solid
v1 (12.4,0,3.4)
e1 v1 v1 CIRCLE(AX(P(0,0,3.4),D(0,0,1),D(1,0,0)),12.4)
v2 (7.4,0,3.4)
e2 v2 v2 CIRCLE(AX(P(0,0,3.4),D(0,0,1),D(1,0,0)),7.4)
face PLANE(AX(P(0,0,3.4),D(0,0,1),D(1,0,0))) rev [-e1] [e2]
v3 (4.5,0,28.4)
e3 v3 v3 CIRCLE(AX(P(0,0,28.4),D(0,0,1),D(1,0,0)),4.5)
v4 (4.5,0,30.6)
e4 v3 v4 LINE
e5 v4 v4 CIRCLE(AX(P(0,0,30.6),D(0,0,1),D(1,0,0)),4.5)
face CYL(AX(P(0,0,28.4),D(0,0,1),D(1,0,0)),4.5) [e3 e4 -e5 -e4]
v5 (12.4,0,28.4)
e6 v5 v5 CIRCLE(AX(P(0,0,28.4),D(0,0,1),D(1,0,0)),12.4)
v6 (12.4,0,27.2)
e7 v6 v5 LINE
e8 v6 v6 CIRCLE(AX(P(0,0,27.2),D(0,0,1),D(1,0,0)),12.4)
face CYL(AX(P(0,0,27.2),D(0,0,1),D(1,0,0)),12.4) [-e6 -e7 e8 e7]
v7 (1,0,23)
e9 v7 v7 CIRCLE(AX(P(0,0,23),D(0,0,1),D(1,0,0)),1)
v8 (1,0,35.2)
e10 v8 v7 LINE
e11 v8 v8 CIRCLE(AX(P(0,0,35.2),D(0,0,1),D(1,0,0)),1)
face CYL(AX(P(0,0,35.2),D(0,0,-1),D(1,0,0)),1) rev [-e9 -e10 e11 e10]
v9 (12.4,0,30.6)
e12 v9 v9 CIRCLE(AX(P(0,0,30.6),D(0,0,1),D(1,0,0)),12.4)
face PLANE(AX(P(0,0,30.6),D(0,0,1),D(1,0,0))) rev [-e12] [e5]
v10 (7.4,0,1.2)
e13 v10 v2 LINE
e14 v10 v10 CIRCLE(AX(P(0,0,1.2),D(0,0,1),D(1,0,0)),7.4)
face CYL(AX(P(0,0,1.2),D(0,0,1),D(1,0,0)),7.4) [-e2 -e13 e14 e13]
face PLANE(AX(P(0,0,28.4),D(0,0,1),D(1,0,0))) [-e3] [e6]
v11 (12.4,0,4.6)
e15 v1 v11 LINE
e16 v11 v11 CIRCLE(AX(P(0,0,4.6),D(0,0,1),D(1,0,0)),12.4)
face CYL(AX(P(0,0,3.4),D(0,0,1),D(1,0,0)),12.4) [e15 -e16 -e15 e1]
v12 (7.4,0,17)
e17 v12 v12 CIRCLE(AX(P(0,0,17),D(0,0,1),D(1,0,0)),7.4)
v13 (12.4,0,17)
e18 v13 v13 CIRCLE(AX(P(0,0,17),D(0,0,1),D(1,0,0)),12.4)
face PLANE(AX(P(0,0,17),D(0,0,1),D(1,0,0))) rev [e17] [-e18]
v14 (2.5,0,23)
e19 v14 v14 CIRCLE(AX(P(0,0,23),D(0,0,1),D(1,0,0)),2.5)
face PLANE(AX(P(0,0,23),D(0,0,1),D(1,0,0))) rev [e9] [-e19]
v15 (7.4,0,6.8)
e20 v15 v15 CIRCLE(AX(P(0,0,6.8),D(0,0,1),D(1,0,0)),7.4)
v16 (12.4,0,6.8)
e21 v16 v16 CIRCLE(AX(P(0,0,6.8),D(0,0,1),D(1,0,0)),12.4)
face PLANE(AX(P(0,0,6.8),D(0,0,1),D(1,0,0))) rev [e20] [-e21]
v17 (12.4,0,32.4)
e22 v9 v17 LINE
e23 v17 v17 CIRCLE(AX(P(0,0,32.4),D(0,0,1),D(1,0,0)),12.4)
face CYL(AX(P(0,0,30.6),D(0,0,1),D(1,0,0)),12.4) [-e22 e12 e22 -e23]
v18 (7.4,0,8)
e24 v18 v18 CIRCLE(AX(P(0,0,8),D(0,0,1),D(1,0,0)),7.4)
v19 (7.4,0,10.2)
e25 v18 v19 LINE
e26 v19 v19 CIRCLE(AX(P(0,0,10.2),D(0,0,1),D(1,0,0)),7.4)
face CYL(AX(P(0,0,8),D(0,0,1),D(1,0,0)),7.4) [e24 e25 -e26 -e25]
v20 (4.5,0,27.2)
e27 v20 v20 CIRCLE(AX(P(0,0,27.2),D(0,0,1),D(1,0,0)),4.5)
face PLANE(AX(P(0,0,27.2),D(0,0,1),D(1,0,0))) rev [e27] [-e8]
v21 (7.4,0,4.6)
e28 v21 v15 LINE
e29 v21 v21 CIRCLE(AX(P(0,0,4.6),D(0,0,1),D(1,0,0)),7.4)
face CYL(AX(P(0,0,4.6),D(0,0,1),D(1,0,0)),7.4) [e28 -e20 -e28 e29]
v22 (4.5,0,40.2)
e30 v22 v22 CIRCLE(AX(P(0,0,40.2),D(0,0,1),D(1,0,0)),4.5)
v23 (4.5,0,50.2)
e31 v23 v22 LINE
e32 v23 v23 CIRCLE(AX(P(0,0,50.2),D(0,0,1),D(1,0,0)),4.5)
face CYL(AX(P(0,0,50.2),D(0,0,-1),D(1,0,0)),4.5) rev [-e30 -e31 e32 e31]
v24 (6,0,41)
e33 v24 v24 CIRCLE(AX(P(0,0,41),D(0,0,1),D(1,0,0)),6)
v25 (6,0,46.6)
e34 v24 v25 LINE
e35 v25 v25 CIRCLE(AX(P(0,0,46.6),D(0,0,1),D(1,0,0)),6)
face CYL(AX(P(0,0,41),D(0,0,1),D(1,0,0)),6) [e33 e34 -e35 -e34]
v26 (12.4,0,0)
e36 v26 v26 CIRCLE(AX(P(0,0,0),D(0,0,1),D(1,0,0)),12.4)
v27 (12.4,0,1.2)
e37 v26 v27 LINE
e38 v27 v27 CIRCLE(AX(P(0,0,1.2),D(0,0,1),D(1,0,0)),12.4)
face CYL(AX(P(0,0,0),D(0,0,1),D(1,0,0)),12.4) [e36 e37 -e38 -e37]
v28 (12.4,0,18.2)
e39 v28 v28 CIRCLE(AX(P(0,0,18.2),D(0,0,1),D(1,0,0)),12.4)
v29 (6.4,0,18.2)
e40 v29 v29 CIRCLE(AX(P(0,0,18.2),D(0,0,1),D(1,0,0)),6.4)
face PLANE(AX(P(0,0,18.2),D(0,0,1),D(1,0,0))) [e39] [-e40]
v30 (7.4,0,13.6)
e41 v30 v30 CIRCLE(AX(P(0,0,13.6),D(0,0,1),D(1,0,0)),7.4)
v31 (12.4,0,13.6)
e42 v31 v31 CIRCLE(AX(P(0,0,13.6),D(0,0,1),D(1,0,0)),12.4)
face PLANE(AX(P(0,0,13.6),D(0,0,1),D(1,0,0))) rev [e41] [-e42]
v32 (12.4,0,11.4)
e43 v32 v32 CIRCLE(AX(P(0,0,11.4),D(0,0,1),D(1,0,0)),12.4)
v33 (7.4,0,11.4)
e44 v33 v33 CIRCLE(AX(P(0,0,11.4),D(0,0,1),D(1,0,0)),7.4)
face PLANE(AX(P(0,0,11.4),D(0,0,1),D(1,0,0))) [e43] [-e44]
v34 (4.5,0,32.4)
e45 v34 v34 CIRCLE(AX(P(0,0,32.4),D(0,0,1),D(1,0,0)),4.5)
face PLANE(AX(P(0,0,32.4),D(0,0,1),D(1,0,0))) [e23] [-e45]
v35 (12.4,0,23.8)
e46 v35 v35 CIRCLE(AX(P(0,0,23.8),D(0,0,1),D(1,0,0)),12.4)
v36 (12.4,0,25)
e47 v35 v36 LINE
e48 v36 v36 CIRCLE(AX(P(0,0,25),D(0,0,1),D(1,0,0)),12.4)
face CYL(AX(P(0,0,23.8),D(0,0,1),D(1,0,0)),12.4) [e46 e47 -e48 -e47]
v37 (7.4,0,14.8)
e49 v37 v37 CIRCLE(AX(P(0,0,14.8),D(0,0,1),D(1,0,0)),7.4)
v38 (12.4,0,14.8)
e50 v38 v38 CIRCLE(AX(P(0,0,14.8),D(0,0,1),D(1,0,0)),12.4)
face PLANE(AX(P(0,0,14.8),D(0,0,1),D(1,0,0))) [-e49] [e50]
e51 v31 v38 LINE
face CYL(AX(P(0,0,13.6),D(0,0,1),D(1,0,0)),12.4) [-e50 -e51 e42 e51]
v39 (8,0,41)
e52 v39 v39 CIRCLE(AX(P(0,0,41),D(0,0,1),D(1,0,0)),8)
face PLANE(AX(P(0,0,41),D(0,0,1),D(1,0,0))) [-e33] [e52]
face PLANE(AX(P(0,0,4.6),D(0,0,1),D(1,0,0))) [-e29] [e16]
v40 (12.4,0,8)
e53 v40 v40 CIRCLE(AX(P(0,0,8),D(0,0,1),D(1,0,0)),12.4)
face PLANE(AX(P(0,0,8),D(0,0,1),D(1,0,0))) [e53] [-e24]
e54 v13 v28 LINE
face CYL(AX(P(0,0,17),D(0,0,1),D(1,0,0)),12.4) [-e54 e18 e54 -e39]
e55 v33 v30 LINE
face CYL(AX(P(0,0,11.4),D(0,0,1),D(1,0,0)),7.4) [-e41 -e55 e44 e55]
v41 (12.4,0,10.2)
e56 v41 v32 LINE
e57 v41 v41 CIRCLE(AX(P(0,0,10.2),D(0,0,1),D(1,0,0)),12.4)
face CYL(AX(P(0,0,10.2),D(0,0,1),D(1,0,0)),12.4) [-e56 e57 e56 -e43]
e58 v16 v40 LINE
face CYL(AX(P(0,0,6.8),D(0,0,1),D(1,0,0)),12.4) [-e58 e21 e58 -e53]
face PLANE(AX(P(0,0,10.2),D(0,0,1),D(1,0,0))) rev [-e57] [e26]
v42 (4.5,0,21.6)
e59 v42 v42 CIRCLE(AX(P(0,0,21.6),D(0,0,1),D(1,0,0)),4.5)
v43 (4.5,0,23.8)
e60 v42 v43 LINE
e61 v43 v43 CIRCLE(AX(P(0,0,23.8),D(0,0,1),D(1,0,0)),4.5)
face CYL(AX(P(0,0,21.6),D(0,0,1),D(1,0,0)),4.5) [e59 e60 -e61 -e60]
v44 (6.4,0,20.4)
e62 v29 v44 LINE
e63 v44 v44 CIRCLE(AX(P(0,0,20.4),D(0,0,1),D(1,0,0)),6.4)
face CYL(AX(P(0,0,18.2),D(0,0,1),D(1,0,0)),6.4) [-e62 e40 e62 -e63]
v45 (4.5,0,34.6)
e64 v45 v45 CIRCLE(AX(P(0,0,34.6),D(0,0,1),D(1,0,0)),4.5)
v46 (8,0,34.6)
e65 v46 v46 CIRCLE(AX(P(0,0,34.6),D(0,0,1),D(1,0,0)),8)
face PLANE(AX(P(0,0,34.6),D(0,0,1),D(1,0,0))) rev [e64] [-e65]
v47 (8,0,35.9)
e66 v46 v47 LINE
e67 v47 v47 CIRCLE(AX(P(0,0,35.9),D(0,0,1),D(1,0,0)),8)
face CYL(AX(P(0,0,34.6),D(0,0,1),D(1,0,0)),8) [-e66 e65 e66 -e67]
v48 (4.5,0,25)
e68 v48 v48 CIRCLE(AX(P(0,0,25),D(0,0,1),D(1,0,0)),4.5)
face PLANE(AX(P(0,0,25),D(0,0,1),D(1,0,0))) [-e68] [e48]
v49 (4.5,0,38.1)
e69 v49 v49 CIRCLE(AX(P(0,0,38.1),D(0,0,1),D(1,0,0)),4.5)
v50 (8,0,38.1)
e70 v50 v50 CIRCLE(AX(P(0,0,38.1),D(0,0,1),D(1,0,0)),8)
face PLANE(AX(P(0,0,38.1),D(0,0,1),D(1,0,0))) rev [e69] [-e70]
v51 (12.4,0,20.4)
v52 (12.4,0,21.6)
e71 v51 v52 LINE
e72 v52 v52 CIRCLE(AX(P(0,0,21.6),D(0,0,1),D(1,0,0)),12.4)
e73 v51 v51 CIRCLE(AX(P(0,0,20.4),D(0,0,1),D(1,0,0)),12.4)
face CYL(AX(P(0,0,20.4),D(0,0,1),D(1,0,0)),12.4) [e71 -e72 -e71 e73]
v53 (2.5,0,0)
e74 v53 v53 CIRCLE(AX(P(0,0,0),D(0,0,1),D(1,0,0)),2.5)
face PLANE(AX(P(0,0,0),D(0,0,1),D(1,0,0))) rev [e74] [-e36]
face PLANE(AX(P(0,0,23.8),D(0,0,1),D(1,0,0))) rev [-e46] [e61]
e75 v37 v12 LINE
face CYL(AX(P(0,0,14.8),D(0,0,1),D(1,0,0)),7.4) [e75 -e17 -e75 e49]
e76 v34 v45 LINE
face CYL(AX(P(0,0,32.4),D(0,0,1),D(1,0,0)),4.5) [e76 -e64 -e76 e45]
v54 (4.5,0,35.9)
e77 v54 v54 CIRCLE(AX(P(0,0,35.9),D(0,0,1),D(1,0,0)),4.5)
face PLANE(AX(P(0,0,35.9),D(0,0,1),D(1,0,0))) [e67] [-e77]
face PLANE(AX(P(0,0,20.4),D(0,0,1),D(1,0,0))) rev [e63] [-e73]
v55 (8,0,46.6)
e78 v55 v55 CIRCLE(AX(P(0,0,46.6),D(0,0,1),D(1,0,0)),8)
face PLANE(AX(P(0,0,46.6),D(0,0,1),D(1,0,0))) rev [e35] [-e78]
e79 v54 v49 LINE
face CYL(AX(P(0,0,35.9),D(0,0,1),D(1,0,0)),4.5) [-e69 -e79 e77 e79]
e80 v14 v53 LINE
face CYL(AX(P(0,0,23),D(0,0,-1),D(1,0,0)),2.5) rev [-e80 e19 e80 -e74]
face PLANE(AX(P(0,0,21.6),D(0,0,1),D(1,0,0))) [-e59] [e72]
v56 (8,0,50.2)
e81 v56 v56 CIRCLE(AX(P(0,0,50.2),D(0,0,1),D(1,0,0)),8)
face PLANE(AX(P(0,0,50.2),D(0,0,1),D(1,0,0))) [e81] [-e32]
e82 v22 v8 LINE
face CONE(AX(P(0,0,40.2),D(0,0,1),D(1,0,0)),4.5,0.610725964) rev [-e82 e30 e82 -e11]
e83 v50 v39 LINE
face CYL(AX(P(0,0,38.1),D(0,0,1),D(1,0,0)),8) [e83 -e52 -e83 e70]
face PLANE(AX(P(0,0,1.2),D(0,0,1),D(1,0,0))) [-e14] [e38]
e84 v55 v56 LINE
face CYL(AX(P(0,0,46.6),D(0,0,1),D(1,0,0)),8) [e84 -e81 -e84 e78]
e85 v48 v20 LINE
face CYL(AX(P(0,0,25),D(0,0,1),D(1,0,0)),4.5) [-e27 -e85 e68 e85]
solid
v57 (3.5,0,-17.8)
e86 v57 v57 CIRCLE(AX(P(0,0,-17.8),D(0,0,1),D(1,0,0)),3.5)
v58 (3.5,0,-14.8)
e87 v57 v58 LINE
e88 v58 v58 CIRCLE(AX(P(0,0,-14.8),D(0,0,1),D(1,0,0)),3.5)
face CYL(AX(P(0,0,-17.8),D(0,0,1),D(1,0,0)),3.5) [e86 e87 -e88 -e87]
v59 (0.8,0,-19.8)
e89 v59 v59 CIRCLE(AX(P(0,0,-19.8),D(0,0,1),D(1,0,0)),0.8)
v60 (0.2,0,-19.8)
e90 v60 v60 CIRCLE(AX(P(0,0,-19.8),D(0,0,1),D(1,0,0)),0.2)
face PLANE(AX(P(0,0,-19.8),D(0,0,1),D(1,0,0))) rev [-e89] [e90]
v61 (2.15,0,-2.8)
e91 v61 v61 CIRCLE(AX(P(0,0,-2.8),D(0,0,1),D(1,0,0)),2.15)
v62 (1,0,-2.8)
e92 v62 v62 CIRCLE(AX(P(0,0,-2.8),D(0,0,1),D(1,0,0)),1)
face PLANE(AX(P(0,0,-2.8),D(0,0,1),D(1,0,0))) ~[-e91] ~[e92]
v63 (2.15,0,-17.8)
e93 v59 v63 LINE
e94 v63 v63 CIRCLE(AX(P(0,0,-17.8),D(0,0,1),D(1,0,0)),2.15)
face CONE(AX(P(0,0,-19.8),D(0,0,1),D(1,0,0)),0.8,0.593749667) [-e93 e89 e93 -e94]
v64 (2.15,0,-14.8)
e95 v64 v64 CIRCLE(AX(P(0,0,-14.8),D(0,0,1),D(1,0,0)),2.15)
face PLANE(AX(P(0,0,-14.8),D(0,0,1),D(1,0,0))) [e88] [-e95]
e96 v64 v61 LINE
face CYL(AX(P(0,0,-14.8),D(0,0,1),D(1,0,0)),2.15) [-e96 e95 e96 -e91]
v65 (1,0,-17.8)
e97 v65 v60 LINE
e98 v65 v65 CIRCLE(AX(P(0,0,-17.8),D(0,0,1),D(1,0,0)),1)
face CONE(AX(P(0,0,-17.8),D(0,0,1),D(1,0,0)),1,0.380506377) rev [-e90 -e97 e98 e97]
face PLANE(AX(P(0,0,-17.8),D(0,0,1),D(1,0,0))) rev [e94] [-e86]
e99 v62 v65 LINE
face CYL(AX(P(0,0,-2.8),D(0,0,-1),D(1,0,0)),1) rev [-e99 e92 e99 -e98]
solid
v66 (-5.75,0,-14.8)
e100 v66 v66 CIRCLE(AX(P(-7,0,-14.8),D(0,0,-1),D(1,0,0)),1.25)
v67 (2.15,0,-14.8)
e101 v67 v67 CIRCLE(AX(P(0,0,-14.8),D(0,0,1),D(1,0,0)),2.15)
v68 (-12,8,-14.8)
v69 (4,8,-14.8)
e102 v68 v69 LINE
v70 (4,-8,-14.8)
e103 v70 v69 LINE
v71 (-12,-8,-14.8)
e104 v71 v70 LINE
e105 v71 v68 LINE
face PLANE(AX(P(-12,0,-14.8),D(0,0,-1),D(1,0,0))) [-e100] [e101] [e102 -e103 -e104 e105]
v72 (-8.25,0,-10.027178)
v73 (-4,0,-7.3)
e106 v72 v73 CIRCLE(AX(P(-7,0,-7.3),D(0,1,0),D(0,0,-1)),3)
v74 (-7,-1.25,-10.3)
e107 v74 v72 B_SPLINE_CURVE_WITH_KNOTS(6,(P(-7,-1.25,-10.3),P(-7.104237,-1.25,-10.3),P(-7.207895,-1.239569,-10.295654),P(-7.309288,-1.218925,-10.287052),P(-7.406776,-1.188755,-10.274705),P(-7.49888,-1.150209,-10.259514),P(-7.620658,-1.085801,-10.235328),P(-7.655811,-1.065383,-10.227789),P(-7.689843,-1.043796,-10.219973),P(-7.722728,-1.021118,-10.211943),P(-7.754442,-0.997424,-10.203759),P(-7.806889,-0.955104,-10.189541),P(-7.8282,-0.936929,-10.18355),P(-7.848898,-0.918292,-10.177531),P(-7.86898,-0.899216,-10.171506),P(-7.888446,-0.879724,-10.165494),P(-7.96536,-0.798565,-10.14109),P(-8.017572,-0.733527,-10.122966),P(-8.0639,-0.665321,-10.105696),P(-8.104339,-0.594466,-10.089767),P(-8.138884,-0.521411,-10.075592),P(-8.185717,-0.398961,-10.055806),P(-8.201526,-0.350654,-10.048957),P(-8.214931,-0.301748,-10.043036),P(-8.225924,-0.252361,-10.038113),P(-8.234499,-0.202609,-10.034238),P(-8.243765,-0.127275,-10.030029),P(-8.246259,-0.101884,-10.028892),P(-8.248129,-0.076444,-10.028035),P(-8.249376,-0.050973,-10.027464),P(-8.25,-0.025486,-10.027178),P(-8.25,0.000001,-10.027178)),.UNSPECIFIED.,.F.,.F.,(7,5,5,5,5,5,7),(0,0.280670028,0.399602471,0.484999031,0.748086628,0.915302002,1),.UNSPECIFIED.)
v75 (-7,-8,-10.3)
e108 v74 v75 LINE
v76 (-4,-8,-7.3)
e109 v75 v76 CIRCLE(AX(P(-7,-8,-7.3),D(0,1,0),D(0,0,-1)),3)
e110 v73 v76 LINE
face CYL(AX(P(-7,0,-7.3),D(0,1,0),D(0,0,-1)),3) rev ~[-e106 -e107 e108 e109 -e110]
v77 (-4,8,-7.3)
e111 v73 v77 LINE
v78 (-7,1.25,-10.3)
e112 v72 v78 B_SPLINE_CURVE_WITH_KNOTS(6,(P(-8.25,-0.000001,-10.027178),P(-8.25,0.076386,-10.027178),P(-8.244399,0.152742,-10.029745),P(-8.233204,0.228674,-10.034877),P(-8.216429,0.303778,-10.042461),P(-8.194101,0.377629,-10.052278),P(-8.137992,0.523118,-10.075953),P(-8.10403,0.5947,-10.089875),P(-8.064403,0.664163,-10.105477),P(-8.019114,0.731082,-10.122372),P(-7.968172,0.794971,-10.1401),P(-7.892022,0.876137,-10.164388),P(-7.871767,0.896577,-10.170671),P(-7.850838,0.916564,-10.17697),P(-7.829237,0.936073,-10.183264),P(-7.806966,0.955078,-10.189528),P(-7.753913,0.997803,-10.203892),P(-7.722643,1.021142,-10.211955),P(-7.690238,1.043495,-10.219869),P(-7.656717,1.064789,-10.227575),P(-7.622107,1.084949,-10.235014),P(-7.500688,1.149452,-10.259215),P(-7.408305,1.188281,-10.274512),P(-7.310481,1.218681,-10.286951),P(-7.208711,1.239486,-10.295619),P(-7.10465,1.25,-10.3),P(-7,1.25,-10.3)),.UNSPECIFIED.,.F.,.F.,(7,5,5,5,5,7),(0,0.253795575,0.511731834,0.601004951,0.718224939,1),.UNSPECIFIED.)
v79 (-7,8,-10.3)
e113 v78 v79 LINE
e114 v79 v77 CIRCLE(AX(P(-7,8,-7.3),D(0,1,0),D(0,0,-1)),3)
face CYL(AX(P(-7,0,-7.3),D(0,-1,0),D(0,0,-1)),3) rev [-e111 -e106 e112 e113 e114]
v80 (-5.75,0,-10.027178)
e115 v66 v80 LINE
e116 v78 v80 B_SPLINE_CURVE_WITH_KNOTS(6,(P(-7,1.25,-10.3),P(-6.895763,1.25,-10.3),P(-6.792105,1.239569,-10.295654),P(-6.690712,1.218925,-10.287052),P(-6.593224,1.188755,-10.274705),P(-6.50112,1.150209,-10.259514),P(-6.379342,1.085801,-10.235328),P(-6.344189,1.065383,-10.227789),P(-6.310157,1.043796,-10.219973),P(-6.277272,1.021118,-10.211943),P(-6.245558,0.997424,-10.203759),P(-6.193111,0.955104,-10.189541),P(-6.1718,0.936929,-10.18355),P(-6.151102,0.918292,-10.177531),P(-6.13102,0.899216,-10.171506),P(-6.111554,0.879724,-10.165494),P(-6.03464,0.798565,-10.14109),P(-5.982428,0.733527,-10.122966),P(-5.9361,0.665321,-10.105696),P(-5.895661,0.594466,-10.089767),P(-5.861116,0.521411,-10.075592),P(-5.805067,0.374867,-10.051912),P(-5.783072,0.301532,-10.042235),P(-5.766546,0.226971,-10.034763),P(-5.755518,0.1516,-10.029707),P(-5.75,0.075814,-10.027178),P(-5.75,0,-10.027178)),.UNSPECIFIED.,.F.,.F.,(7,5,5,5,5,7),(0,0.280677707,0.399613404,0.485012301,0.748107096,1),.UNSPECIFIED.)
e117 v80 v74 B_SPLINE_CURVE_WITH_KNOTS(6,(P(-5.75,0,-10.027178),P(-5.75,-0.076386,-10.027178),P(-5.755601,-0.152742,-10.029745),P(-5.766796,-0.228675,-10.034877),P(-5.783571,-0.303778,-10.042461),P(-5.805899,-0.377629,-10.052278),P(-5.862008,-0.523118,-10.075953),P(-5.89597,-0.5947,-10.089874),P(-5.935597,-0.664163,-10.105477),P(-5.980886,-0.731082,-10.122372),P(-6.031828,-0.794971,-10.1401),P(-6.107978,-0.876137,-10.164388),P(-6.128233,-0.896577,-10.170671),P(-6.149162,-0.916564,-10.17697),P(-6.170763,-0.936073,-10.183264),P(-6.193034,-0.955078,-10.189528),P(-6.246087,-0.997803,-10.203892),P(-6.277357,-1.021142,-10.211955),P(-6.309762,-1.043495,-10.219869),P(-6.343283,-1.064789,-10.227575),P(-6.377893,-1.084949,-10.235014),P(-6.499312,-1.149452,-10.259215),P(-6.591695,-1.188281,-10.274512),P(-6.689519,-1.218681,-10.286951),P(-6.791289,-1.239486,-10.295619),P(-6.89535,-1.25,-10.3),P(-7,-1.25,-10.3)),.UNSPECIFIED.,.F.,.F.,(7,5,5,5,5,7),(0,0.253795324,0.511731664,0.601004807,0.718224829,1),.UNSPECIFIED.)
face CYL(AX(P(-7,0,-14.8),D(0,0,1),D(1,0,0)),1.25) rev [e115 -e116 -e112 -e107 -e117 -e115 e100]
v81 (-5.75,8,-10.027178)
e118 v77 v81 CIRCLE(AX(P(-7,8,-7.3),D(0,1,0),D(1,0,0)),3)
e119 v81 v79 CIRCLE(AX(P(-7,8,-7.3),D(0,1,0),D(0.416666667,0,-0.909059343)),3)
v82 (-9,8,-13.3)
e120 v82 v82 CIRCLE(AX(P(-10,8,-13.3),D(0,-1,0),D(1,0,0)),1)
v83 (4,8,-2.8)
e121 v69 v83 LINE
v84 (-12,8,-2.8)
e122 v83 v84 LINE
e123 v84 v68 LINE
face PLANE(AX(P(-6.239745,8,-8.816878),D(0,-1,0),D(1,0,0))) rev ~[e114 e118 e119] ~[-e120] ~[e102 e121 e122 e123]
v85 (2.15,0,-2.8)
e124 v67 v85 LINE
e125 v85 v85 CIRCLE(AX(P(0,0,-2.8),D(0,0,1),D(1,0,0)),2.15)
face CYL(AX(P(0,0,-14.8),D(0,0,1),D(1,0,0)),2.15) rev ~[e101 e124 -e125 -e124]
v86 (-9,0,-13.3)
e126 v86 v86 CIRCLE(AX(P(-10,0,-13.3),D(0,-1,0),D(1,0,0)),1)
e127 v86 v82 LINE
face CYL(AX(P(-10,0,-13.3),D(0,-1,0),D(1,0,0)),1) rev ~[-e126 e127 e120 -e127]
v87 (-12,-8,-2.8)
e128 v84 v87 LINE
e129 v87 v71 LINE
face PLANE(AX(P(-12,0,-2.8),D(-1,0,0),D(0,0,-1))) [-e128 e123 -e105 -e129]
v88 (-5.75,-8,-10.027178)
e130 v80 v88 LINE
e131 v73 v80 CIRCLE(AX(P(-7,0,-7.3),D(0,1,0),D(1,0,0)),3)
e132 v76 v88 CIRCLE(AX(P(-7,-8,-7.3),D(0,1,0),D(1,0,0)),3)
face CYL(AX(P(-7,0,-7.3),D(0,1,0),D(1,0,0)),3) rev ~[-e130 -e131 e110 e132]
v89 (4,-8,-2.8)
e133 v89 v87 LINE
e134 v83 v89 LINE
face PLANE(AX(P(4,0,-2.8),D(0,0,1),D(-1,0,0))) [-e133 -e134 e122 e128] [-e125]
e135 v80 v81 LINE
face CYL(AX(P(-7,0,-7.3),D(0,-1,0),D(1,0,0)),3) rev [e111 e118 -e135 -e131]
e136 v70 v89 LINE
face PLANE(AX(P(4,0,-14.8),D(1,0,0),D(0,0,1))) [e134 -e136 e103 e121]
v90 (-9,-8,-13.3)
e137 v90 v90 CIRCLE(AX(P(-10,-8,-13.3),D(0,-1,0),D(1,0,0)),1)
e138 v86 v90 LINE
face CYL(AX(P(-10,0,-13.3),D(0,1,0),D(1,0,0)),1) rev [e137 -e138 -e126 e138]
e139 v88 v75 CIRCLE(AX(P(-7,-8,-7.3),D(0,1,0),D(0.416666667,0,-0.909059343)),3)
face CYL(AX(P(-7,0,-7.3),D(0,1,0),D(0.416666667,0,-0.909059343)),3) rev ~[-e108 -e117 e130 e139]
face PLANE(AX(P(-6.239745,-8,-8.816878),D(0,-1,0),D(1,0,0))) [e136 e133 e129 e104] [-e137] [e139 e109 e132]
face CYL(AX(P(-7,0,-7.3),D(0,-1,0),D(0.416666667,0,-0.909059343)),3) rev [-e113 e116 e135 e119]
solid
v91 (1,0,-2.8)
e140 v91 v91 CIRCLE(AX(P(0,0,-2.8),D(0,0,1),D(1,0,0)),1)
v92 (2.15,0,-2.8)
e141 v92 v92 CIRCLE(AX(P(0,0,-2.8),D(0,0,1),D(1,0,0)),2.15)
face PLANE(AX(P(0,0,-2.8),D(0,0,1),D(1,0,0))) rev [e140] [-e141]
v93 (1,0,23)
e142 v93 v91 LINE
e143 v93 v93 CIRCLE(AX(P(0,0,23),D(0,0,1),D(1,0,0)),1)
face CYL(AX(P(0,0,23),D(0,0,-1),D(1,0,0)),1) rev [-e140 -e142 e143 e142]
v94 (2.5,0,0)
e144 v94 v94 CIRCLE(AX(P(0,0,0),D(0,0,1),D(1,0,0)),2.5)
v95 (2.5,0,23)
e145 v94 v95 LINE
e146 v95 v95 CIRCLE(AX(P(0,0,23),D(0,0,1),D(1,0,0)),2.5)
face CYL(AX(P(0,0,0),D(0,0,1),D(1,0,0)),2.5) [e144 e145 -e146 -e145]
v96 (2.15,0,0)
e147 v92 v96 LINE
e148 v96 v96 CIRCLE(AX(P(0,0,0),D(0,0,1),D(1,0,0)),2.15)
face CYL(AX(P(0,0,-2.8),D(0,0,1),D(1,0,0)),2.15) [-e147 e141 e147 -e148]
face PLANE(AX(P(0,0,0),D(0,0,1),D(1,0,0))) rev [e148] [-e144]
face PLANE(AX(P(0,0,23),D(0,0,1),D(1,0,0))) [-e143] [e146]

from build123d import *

# Parameters (mm, degrees)
F0_W          = 1.15
F0_H          = 7.5
F0_H_2        = 4.5
F0_R          = 1
F4_DEPTH      = 8
F4_DEPTH_BACK = 8


with BuildPart() as f1:
    # F0 (on Front) → F1 (revolve)
    with BuildSketch(Plane.XZ):
        Polygon((2.5, 23), (2.5, 0), (12.4, 0), (12.4, 1.2), (7.4, 1.2), (7.4, 3.4), (12.4, 3.4), (12.4, 4.6), (7.4, 4.6), (7.4, 6.8), (12.4, 6.8), (12.4, 8), (7.4, 8), (7.4, 10.2), (12.4, 10.2), (12.4, 11.4), (7.4, 11.4), (7.4, 13.6), (12.4, 13.6), (12.4, 14.8), (7.4, 14.8), (7.4, 17), (12.4, 17), (12.4, 18.2), (6.4, 18.2), (6.4, 20.4), (12.4, 20.4), (12.4, 21.6), (4.5, 21.6), (4.5, 23.8), (12.4, 23.8), (12.4, 25), (4.5, 25), (4.5, 27.2), (12.4, 27.2), (12.4, 28.4), (4.5, 28.4), (4.5, 30.6), (12.4, 30.6), (12.4, 32.4), (4.5, 32.4), (4.5, 34.6), (8, 34.6), (8, 35.9), (4.5, 35.9), (4.5, 38.1), (8, 38.1), (8, 41), (6, 41), (6, 46.6), (8, 46.6), (8, 50.2), (4.5, 50.2), (4.5, 40.2), (1, 35.2), (1, 23), align=None)
    revolve(axis=Axis((0, 0, 29.5251291245), (0, 0, 1)))


with BuildPart() as f2:
    # F0 (on Front) → F2 (revolve)
    with BuildSketch(Plane.XZ):
        Polygon((2.15, 0), (2.5, 0), (2.5, 23), (1, 23), (1, 0), (1, -2.8), (2.15, -2.8), align=None)
    revolve(axis=Axis((0, 0, 29.5251291245), (0, 0, 1)))


with BuildPart() as f3:
    # F0 (on Front) → F3 (revolve)
    with BuildSketch(Plane.XZ):
        with Locations((1.575, -11.05)):
            Rectangle(F0_W, F0_H)
        Polygon((3.5, -14.8), (2.15, -14.8), (1, -14.8), (1, -17.8), (0.2, -19.8), (0.8, -19.8), (2.15, -17.8), (3.5, -17.8), align=None)
        with Locations((1.575, -5.05)):
            Rectangle(F0_W, F0_H_2)
    revolve(axis=Axis((0, 0, 29.5251291245), (0, 0, 1)))


with BuildPart() as f4:
    # F0 (on Front) → F4 (new body, two sides)
    with BuildSketch(Plane.XZ) as f4_sk:
        with BuildLine():
            Line((0, -14.8), (0, -2.8))
            Line((0, -2.8), (-12, -2.8))
            Line((-12, -2.8), (-12, -14.8))
            Line((-12, -14.8), (-7, -14.8))
            Line((-7, -14.8), (-7, -10.3))
            ThreePointArc((-7, -10.3), (-9.1213203436, -5.1786796564), (-4, -7.3))
            ThreePointArc((-4, -7.3), (-4.4751237654, -8.9201851746), (-5.75, -10.0271780287))
            Line((-5.75, -10.0271780287), (-5.75, -14.8))
            Line((-5.75, -14.8), (0, -14.8))
        make_face()
        with Locations((-10, -13.3)):
            Circle(F0_R, mode=Mode.SUBTRACT)
        with Locations((1.575, -5.05)):
            Rectangle(F0_W, F0_H_2)
        Polygon((4, -2.8), (2.15, -2.8), (2.15, -7.3), (2.15, -14.8), (3.5, -14.8), (4, -14.8), align=None)
        with Locations((1.575, -11.05)):
            Rectangle(F0_W, F0_H)
        Polygon((1, -7.3), (1, -2.8), (0, -2.8), (0, -14.8), (1, -14.8), align=None)
        with BuildLine():
            Line((-7, -14.8), (-5.75, -14.8))
            Line((-5.75, -14.8), (-5.75, -10.0271780287))
            ThreePointArc((-5.75, -10.0271780287), (-6.3602868166, -10.2310010309), (-7, -10.3))
            Line((-7, -10.3), (-7, -14.8))
        make_face()
    extrude(amount=F4_DEPTH)
    extrude(f4_sk.sketch, amount=-F4_DEPTH_BACK)

    # F0 (on Front) → F5 (revolve, cut)
    with BuildSketch(Plane.XZ):
        Polygon((1, -7.3), (1, -2.8), (0, -2.8), (0, -14.8), (1, -14.8), align=None)
        with Locations((1.575, -5.05)):
            Rectangle(F0_W, F0_H_2)
        with Locations((1.575, -11.05)):
            Rectangle(F0_W, F0_H)
    revolve(axis=Axis((0, 0, 29.5251291245), (0, 0, 1)), mode=Mode.SUBTRACT)

    # F0 (on Front) → F6 (revolve, cut)
    with BuildSketch(Plane.XZ):
        with BuildLine():
            Line((-7, -14.8), (-5.75, -14.8))
            Line((-5.75, -14.8), (-5.75, -10.0271780287))
            ThreePointArc((-5.75, -10.0271780287), (-6.3602868166, -10.2310010309), (-7, -10.3))
            Line((-7, -10.3), (-7, -14.8))
        make_face()
        with BuildLine():
            ThreePointArc((-7, -10.3), (-6.3602868166, -10.2310010309), (-5.75, -10.0271780287))
            Line((-5.75, -10.0271780287), (-5.75, -7.3))
            Line((-5.75, -7.3), (-7, -7.3))
            Line((-7, -7.3), (-7, -10.3))
        make_face()
    revolve(axis=Axis((-7, 0, -11.05), (0, 0, -1)), mode=Mode.SUBTRACT)


solid = Compound([f1.part, f2.part, f3.part, f4.part])
